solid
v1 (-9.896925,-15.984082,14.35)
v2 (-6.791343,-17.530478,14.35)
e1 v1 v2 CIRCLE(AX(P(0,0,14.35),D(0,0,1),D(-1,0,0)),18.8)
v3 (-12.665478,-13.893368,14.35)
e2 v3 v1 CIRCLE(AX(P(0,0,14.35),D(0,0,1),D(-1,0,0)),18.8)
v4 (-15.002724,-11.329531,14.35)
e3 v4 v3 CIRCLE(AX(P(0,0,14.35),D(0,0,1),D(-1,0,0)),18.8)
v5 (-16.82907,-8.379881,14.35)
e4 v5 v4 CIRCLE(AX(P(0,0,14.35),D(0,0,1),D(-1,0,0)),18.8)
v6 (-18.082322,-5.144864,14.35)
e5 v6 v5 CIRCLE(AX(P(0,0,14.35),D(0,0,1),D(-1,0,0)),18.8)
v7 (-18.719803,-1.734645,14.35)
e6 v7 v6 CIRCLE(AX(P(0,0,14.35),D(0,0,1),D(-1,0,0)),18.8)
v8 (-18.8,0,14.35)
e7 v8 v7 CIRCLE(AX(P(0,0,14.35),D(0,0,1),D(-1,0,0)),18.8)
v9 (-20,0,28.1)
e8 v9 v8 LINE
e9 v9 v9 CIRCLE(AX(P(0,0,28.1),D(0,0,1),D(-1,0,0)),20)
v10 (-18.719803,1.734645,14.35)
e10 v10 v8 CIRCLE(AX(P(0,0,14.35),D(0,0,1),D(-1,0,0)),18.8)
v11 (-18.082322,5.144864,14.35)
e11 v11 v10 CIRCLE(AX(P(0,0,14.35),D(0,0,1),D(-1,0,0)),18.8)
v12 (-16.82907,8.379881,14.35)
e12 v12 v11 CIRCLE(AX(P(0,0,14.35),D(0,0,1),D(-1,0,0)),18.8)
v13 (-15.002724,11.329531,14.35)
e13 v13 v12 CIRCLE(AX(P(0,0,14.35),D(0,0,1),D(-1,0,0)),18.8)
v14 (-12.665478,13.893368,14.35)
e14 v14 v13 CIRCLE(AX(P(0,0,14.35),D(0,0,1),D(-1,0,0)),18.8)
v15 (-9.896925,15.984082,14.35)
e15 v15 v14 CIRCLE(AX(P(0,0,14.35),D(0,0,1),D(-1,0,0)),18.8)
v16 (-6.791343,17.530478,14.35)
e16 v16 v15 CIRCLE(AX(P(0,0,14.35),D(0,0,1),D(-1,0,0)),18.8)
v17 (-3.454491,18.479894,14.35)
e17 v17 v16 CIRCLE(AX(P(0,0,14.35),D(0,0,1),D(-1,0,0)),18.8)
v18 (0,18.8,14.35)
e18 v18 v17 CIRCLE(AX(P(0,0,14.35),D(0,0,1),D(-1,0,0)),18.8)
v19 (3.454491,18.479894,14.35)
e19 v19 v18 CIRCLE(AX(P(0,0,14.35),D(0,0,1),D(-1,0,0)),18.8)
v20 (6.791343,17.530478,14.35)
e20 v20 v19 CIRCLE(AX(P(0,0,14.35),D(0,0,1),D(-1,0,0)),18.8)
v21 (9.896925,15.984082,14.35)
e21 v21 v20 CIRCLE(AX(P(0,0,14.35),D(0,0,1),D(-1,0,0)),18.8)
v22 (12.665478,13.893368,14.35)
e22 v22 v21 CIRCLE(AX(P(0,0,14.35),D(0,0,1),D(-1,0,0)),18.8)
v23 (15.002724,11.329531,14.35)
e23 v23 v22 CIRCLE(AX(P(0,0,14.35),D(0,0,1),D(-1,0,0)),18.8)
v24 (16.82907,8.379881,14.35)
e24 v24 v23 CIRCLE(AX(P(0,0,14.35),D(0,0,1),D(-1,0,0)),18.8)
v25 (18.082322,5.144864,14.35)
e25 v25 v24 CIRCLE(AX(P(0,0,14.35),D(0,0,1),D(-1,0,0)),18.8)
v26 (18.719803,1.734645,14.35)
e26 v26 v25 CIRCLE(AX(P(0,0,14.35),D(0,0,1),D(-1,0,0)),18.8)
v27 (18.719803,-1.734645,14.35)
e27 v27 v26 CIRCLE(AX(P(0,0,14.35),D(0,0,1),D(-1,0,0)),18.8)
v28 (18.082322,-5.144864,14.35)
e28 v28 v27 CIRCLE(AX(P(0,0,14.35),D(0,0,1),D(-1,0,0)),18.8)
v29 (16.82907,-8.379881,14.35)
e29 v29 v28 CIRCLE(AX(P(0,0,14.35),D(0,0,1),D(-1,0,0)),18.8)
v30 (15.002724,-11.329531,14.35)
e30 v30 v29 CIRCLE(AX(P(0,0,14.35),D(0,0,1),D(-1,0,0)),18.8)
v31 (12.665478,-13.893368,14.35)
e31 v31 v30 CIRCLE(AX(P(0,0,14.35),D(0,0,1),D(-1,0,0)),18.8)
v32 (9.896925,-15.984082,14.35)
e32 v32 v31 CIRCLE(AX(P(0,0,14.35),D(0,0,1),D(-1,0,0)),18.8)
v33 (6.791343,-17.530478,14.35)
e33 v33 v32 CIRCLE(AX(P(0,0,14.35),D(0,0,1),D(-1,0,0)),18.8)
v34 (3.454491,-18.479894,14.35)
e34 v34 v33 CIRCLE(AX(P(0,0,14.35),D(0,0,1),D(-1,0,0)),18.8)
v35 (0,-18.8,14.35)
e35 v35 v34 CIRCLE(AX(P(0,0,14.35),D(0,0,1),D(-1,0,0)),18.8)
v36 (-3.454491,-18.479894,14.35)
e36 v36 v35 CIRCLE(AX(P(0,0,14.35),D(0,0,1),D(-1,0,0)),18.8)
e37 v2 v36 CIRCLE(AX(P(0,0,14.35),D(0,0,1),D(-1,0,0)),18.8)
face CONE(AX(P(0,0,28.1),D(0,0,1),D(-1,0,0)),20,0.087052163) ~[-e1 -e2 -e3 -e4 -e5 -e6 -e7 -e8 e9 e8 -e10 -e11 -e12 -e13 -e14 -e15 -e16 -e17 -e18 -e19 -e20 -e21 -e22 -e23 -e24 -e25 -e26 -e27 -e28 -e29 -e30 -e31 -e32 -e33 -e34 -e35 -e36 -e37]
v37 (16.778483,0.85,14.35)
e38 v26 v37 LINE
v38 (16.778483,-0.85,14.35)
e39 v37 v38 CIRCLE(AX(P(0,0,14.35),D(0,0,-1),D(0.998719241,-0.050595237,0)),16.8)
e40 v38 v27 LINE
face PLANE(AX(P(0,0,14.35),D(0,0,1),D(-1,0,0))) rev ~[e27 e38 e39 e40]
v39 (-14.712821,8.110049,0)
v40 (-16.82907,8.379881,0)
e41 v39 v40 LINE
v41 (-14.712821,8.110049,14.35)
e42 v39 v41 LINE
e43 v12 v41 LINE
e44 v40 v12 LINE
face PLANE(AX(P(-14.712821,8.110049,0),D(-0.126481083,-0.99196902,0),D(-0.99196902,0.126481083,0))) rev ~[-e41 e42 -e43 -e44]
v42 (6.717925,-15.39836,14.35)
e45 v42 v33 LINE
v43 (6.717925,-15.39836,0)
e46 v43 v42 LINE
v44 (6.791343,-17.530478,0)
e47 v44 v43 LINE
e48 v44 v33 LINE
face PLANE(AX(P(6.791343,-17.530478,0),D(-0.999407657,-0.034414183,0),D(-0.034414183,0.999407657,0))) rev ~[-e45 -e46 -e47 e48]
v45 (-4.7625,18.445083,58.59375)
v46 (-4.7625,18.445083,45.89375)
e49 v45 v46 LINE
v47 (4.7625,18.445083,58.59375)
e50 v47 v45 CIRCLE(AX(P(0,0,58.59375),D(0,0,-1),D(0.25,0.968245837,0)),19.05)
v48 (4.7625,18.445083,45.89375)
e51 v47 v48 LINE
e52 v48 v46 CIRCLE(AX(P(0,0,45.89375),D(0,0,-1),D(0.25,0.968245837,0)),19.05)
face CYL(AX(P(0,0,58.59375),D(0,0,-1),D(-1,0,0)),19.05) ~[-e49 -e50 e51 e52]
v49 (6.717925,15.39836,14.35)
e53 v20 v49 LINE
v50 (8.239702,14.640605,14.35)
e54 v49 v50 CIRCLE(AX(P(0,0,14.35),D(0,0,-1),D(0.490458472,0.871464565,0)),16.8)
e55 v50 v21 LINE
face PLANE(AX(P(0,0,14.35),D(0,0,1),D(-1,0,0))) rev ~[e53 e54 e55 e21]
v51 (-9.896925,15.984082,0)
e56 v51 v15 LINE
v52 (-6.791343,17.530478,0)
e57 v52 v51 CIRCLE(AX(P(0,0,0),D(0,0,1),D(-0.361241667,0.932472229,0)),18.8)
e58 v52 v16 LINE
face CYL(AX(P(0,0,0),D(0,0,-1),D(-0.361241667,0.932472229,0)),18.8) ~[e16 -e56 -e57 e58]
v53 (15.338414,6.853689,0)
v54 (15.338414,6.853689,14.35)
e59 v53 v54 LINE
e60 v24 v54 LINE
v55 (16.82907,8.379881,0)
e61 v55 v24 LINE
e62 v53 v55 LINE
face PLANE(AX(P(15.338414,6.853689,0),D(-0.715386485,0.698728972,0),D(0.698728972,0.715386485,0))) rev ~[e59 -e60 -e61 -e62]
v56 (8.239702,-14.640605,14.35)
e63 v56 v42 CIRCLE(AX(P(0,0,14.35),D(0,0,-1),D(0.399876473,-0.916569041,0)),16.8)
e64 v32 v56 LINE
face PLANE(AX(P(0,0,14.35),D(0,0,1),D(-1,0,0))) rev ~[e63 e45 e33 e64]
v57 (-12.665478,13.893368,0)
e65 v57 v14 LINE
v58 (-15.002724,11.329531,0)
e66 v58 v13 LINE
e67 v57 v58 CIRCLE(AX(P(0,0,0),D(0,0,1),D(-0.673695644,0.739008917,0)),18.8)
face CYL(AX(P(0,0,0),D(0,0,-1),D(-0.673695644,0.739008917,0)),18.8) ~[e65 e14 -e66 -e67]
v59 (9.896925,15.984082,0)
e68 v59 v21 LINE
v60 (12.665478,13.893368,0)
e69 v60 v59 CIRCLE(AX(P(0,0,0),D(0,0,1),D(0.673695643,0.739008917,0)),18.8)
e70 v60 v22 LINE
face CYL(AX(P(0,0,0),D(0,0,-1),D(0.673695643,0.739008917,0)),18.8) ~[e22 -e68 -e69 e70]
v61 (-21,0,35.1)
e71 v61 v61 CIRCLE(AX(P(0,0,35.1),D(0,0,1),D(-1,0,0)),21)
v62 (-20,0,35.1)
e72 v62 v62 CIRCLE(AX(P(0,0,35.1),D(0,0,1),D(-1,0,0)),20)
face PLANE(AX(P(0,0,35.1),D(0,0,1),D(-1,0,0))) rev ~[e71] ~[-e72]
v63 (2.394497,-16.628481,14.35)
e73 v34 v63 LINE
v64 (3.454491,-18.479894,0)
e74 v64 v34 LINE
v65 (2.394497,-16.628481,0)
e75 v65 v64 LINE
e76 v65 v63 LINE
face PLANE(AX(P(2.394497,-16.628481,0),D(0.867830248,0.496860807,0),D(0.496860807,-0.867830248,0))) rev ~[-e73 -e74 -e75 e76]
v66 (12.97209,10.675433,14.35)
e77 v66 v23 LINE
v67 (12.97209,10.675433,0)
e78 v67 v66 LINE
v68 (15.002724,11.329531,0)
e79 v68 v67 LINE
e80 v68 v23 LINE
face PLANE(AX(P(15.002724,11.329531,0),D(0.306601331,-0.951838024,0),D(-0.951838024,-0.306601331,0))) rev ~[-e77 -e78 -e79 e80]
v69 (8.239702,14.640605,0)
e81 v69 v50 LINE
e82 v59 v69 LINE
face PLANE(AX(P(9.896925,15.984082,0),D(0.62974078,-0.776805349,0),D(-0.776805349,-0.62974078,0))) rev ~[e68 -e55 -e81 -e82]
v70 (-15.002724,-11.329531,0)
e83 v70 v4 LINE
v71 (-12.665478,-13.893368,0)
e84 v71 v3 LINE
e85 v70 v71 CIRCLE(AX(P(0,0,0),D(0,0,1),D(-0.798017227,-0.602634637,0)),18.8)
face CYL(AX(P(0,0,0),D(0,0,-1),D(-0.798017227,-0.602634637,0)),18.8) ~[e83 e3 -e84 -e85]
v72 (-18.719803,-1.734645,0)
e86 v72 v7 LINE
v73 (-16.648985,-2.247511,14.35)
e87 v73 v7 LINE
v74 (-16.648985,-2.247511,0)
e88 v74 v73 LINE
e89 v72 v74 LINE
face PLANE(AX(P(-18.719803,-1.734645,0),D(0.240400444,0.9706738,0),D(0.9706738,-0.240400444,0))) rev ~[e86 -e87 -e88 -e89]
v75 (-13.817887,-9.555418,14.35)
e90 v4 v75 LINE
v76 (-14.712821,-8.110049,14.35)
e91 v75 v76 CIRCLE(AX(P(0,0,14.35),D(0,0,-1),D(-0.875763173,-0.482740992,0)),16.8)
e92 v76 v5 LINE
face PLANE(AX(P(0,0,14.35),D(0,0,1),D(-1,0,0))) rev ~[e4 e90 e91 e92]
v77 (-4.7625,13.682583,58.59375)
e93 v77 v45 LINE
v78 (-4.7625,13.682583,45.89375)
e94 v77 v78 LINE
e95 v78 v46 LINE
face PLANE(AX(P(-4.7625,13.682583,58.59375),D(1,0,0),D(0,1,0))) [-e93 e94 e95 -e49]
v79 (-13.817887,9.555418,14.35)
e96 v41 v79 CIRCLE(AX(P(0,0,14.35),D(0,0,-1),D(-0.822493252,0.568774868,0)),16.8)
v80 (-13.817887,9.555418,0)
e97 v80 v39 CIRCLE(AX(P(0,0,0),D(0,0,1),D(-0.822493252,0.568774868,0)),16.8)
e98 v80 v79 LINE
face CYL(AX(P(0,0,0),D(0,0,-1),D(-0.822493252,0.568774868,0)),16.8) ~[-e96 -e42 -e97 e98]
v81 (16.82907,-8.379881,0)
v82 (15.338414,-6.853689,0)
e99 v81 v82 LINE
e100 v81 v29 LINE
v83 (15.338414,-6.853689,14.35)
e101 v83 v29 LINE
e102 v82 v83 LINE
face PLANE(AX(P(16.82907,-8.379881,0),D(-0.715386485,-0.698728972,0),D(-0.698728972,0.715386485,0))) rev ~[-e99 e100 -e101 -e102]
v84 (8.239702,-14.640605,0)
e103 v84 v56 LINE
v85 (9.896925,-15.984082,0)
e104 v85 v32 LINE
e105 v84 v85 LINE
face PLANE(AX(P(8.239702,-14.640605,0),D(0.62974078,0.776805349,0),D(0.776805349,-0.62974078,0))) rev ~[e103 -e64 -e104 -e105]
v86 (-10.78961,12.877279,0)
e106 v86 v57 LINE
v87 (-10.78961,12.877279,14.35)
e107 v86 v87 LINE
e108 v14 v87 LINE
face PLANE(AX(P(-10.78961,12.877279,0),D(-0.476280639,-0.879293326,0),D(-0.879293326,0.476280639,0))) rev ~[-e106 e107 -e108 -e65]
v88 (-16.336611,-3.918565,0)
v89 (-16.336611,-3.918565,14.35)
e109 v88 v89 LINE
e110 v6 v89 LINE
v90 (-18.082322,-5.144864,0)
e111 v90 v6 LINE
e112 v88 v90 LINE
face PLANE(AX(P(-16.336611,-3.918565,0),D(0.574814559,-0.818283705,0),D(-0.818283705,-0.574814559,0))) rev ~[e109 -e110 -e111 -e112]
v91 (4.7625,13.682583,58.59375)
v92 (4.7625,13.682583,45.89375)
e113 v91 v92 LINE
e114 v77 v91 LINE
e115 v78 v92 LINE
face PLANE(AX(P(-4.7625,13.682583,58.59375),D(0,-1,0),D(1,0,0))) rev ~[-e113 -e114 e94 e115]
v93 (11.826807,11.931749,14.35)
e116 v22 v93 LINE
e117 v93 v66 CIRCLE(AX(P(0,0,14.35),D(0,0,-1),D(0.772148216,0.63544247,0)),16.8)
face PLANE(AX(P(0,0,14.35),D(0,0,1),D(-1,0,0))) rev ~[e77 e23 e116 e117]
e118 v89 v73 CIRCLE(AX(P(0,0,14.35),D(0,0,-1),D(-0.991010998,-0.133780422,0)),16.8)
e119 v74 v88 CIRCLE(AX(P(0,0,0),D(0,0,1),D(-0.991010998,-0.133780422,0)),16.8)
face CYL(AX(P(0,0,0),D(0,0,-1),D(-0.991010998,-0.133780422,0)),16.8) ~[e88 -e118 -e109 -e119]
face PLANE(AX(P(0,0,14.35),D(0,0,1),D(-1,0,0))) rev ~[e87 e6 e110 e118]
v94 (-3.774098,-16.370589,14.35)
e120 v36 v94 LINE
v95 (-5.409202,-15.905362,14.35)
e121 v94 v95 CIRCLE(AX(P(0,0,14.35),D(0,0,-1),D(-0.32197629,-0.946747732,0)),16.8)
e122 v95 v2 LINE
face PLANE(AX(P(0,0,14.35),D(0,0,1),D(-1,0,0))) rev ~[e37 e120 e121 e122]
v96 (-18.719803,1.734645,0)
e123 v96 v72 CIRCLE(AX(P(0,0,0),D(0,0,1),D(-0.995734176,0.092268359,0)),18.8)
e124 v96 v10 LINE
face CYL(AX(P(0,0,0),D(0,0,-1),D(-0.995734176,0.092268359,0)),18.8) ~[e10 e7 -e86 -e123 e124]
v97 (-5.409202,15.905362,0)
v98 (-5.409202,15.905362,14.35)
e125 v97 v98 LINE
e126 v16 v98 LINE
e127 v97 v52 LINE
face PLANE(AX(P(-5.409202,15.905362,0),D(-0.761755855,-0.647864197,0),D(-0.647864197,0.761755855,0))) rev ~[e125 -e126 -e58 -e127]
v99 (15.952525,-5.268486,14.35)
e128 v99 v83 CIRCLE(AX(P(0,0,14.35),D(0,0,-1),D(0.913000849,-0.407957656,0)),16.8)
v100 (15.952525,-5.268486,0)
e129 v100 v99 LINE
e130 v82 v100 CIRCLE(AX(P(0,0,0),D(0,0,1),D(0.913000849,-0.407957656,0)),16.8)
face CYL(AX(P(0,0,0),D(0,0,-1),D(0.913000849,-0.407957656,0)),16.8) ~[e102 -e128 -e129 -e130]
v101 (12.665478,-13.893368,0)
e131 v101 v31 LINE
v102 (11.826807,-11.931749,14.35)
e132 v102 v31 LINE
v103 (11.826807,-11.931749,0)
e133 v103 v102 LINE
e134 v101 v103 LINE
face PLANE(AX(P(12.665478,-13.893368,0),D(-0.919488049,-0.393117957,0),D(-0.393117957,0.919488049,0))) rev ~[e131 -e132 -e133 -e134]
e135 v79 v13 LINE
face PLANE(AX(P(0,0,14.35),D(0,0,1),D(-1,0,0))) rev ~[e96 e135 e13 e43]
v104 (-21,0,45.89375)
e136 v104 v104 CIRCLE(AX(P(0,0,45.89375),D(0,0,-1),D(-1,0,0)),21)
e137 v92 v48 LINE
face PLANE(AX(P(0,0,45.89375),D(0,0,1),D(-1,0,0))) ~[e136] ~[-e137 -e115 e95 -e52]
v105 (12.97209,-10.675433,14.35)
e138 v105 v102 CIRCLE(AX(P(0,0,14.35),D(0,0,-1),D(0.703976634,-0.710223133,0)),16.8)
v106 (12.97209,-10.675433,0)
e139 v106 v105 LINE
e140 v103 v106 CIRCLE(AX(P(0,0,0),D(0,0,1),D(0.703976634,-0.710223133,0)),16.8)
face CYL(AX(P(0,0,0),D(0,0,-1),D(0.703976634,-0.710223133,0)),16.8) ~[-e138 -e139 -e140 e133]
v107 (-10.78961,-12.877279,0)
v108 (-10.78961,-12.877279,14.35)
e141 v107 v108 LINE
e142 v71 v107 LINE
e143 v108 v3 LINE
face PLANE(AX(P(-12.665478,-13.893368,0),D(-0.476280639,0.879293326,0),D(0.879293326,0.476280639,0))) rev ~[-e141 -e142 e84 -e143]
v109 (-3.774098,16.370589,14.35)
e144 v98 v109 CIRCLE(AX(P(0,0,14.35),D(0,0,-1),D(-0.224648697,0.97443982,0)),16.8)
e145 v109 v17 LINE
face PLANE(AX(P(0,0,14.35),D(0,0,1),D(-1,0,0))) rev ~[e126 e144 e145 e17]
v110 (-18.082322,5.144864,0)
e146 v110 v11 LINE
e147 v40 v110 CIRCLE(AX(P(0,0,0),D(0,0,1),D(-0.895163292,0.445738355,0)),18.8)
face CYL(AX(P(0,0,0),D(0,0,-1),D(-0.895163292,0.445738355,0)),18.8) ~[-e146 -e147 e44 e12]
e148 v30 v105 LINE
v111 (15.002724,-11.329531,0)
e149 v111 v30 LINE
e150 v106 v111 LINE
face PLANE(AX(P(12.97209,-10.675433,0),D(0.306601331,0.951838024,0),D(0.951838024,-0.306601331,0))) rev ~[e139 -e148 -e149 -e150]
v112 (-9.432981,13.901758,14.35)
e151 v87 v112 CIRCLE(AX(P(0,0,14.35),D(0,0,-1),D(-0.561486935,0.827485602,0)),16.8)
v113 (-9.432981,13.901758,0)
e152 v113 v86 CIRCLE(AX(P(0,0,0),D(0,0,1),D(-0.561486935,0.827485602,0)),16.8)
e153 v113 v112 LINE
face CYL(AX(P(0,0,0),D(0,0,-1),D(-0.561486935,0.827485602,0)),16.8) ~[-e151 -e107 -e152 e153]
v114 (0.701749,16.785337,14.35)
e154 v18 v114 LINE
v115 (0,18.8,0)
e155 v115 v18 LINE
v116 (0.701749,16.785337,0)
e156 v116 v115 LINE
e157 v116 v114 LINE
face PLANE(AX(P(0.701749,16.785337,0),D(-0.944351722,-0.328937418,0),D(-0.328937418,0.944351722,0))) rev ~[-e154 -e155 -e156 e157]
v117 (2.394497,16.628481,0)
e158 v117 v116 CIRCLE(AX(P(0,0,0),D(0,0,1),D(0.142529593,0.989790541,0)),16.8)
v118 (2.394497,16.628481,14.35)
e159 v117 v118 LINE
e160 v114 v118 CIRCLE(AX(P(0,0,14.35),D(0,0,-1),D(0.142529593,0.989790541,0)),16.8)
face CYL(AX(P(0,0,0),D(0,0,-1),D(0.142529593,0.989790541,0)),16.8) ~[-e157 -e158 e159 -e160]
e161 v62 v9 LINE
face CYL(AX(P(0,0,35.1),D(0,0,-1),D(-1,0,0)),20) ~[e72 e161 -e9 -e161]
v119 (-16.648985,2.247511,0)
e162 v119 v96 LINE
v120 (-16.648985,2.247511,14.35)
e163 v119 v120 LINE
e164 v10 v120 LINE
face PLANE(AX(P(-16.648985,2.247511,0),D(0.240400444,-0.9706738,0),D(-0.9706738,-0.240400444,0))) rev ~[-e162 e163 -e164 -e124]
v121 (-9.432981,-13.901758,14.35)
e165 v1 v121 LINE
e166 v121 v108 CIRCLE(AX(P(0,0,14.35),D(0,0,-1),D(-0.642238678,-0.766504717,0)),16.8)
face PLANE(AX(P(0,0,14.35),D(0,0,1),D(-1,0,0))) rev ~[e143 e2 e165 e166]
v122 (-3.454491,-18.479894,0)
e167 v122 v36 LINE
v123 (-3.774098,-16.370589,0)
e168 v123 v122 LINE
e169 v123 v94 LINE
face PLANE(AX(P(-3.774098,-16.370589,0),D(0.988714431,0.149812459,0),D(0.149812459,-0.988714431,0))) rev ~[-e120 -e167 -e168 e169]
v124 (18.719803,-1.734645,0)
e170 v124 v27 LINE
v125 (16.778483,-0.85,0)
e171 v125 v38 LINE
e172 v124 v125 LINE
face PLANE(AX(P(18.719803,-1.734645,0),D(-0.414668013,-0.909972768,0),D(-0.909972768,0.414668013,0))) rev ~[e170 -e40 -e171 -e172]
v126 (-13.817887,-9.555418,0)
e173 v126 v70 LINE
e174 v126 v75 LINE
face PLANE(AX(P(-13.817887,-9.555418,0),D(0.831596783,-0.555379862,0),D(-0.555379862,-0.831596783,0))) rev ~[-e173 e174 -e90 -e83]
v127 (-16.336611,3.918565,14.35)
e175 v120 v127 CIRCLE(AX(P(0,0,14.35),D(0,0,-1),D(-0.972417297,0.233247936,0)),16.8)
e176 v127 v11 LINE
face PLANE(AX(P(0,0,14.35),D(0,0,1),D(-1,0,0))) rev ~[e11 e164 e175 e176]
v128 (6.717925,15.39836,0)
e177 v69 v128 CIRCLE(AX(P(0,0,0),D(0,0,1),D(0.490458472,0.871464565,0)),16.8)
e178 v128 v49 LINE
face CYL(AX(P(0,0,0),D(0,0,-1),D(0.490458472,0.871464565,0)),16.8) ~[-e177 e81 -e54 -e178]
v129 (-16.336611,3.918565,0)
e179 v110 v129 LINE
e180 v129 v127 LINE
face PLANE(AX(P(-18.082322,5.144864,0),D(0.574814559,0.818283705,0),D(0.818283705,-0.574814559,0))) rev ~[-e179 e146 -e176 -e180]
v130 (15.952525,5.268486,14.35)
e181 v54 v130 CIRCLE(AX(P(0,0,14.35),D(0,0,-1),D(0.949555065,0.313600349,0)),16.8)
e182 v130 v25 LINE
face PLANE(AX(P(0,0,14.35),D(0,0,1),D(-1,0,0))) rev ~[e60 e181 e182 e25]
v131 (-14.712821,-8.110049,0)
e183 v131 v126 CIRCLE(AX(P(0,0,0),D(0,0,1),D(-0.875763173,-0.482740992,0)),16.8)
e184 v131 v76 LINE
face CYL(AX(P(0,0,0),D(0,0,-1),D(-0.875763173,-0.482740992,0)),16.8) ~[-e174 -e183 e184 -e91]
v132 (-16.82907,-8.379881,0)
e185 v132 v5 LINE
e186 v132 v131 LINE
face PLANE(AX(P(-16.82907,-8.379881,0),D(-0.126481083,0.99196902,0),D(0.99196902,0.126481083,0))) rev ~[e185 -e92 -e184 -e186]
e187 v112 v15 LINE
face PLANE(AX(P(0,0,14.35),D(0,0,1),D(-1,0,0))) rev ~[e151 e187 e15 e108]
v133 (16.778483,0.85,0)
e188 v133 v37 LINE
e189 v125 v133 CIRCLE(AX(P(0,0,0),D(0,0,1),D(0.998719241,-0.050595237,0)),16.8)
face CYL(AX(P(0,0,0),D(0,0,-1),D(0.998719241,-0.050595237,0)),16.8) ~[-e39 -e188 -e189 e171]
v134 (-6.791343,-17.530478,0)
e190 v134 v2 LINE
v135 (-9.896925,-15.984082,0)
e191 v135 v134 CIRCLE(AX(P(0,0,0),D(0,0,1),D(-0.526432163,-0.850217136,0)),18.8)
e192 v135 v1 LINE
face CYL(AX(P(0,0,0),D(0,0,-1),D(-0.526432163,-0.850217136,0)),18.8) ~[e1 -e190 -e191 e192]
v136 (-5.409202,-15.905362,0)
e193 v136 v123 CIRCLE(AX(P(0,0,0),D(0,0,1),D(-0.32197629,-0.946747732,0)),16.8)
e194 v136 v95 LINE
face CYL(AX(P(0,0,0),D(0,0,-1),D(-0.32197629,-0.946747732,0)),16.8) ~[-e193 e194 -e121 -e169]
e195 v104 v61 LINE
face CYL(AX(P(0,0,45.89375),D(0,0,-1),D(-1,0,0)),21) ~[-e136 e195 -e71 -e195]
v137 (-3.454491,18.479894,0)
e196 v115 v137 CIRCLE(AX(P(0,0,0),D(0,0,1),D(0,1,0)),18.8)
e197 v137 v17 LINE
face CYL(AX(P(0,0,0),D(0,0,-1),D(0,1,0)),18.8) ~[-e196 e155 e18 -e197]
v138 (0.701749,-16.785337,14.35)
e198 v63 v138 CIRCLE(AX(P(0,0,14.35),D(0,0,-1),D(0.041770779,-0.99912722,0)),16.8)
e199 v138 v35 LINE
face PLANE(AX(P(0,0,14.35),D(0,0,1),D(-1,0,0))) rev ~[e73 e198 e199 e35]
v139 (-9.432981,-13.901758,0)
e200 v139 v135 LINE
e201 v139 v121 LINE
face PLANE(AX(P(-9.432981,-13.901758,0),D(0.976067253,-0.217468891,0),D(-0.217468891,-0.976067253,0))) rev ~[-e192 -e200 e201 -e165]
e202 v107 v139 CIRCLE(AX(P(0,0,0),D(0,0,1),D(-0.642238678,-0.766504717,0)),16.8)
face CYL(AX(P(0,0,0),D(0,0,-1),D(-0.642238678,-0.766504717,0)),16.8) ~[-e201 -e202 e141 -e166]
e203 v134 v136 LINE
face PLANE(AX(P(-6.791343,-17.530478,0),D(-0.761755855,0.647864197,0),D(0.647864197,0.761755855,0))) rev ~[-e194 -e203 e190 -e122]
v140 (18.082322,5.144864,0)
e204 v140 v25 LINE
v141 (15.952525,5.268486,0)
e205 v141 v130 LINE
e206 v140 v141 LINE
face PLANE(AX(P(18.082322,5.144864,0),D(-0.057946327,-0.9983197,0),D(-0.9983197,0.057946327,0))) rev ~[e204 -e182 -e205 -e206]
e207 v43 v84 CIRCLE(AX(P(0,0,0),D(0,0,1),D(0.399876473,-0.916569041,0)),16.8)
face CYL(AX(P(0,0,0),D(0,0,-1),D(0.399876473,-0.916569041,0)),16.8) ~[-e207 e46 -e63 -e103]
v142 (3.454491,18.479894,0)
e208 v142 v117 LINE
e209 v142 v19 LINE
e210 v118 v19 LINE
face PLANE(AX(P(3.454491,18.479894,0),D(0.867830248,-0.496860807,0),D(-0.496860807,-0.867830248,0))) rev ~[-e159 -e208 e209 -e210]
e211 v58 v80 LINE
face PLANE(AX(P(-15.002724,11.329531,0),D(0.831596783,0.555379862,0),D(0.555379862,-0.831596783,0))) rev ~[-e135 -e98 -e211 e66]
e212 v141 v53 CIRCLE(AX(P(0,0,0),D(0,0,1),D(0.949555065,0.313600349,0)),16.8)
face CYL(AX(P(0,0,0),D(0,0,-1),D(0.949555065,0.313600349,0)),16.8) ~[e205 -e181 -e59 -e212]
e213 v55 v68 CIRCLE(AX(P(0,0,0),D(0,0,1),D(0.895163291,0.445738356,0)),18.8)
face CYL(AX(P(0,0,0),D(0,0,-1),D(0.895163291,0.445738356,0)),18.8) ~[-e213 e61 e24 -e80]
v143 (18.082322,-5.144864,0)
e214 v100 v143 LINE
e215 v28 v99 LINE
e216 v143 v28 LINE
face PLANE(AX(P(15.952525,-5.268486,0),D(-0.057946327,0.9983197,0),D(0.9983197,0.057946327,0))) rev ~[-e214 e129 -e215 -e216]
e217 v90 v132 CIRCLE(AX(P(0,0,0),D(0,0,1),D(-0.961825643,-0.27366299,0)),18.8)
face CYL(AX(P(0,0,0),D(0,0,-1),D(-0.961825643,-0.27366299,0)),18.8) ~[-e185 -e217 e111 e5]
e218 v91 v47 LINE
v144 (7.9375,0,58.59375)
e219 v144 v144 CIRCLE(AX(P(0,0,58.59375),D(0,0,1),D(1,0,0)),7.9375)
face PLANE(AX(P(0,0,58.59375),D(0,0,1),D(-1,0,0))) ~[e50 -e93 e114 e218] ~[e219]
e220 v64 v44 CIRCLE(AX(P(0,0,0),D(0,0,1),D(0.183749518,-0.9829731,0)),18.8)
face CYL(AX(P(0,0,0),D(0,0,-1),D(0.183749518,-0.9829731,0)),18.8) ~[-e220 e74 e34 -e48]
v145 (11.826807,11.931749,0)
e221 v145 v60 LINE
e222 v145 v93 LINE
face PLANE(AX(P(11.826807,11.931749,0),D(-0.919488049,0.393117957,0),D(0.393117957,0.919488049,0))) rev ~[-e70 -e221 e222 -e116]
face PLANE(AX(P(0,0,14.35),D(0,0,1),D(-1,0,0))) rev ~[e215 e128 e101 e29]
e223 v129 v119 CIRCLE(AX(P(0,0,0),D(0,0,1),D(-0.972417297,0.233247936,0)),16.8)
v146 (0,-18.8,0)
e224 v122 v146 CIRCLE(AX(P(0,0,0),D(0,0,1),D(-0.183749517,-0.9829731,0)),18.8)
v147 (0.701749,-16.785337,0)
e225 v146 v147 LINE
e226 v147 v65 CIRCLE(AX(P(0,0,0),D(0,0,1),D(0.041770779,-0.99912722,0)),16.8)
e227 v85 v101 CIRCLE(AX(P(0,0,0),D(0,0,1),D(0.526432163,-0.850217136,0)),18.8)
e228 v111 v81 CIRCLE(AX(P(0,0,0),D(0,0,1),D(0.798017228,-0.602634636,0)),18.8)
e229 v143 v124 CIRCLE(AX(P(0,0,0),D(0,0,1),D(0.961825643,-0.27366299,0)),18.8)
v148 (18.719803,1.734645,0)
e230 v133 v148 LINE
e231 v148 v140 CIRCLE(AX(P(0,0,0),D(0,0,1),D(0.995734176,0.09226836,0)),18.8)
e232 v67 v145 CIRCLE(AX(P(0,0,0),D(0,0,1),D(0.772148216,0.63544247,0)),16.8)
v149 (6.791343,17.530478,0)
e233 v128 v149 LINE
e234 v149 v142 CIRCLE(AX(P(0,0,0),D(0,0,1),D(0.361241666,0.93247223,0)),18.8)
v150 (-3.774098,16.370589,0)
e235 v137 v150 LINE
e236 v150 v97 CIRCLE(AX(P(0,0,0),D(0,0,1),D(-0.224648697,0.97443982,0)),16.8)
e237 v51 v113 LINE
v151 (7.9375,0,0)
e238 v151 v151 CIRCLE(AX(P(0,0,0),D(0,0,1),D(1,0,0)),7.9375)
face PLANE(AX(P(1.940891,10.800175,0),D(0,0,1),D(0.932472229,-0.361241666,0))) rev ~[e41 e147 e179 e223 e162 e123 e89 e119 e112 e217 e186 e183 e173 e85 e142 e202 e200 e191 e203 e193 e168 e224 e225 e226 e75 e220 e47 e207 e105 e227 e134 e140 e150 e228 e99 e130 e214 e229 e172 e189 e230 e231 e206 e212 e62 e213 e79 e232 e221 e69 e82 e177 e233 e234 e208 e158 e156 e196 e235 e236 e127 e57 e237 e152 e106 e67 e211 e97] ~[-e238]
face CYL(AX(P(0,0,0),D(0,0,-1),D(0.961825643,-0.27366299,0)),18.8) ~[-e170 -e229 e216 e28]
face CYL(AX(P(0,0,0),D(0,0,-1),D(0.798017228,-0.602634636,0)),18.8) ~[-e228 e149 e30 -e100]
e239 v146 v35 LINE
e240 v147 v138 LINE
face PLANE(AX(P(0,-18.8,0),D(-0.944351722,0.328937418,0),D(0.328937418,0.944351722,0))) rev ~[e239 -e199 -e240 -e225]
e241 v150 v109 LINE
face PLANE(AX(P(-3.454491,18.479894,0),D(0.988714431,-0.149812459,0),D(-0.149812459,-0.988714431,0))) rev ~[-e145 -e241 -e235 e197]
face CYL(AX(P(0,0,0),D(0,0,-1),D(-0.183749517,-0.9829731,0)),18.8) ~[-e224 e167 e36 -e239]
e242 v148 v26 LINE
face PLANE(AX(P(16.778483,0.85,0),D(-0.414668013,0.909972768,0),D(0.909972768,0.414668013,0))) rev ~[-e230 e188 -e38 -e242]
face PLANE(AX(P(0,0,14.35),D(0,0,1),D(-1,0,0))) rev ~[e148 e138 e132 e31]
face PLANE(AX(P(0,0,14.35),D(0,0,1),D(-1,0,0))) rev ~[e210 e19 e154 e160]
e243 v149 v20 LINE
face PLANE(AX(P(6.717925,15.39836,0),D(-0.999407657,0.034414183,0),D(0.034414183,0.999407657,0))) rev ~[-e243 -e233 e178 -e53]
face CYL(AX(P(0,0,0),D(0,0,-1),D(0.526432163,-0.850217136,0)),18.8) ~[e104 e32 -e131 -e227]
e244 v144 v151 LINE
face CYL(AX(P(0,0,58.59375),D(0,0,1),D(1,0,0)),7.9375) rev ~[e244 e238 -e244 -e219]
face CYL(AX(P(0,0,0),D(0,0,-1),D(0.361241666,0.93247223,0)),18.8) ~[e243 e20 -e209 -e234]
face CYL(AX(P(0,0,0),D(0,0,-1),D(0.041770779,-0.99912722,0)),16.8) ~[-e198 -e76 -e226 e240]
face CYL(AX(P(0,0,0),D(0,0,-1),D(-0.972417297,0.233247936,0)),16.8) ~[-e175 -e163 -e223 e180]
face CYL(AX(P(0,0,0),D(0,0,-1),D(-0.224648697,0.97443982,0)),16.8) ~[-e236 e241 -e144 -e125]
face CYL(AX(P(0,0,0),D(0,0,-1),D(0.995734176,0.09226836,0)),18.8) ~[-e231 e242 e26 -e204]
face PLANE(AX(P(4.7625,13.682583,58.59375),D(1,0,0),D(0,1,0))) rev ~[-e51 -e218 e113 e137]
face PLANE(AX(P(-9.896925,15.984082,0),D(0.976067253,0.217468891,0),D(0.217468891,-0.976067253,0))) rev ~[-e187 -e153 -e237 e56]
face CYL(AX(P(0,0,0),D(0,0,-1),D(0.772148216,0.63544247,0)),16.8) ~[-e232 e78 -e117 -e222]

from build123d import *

# Parameters (mm, degrees)
BOSS_EXTRUDE1_DEPTH = 27.94
CIRPATTERN1_COUNT   = 17
SKETCH5_R           = 7.9375
SKETCH5_W           = 9.525
SKETCH5_H           = 11.576298251
CUT_EXTRUDE1_DEPTH  = 12.7
SKETCH5_2_R         = 7.9375
CUT_EXTRUDE2_DEPTH  = 70


with BuildPart() as part:
    # Sketch2 → Revolve1 (revolve)
    with BuildSketch(Plane(origin=(0, 0, 0), x_dir=(1, 0, 0), z_dir=(0, 1, 0))):
        Polygon((0, -14.35), (0, -58.593750066), (-19.05, -58.593750066), (-19.05, -45.893750066), (-21, -45.893750066), (-21, -35.1), (-20, -35.1), (-20, -28.1), (-18.8, -14.35), align=None)
    revolve(axis=Axis((0, 0, 14.35), (0, 0, 1)))

    # Sketch4 → Boss-Extrude1 (add)
    with BuildSketch(Plane.XY):
        with BuildLine():
            Line((-3.454490935, 18.479894274), (-3.774098097, 16.37058898))
            ThreePointArc((-3.774098097, 16.37058898), (-4.597538233, 16.158670805), (-5.40920169, 15.905361897))
            Line((-5.40920169, 15.905361897), (-6.791343324, 17.530477913))
            Line((-6.791343324, 17.530477913), (0, 0))
            Line((0, 0), (0, 18.8))
            ThreePointArc((0, 18.8), (-1.734645158, 18.719802514), (-3.454490935, 18.479894274))
        make_face()
    boss_extrude1 = extrude(amount=BOSS_EXTRUDE1_DEPTH)

    # CirPattern1: Boss-Extrude1 ×17 about axis
    cirpattern1_axis = Axis((0, 0, 27.94), (0, 0, -1))
    for i in range(1, CIRPATTERN1_COUNT):
        add(boss_extrude1.rotate(cirpattern1_axis, i * 360 / CIRPATTERN1_COUNT))

    # Sketch5 → Cut-Extrude1 (cut)
    with BuildSketch(Plane.XY.offset(58.593750066)):
        Circle(SKETCH5_R)
        with Locations((0, 19.470732312)):
            Rectangle(SKETCH5_W, SKETCH5_H)
    extrude(amount=-CUT_EXTRUDE1_DEPTH, mode=Mode.SUBTRACT)

    # Sketch5<2> → Cut-Extrude2 (cut)
    with BuildSketch(Plane.XY.offset(58.593750066)):
        Circle(SKETCH5_2_R)
    extrude(amount=-CUT_EXTRUDE2_DEPTH, mode=Mode.SUBTRACT)


solid = part.part
